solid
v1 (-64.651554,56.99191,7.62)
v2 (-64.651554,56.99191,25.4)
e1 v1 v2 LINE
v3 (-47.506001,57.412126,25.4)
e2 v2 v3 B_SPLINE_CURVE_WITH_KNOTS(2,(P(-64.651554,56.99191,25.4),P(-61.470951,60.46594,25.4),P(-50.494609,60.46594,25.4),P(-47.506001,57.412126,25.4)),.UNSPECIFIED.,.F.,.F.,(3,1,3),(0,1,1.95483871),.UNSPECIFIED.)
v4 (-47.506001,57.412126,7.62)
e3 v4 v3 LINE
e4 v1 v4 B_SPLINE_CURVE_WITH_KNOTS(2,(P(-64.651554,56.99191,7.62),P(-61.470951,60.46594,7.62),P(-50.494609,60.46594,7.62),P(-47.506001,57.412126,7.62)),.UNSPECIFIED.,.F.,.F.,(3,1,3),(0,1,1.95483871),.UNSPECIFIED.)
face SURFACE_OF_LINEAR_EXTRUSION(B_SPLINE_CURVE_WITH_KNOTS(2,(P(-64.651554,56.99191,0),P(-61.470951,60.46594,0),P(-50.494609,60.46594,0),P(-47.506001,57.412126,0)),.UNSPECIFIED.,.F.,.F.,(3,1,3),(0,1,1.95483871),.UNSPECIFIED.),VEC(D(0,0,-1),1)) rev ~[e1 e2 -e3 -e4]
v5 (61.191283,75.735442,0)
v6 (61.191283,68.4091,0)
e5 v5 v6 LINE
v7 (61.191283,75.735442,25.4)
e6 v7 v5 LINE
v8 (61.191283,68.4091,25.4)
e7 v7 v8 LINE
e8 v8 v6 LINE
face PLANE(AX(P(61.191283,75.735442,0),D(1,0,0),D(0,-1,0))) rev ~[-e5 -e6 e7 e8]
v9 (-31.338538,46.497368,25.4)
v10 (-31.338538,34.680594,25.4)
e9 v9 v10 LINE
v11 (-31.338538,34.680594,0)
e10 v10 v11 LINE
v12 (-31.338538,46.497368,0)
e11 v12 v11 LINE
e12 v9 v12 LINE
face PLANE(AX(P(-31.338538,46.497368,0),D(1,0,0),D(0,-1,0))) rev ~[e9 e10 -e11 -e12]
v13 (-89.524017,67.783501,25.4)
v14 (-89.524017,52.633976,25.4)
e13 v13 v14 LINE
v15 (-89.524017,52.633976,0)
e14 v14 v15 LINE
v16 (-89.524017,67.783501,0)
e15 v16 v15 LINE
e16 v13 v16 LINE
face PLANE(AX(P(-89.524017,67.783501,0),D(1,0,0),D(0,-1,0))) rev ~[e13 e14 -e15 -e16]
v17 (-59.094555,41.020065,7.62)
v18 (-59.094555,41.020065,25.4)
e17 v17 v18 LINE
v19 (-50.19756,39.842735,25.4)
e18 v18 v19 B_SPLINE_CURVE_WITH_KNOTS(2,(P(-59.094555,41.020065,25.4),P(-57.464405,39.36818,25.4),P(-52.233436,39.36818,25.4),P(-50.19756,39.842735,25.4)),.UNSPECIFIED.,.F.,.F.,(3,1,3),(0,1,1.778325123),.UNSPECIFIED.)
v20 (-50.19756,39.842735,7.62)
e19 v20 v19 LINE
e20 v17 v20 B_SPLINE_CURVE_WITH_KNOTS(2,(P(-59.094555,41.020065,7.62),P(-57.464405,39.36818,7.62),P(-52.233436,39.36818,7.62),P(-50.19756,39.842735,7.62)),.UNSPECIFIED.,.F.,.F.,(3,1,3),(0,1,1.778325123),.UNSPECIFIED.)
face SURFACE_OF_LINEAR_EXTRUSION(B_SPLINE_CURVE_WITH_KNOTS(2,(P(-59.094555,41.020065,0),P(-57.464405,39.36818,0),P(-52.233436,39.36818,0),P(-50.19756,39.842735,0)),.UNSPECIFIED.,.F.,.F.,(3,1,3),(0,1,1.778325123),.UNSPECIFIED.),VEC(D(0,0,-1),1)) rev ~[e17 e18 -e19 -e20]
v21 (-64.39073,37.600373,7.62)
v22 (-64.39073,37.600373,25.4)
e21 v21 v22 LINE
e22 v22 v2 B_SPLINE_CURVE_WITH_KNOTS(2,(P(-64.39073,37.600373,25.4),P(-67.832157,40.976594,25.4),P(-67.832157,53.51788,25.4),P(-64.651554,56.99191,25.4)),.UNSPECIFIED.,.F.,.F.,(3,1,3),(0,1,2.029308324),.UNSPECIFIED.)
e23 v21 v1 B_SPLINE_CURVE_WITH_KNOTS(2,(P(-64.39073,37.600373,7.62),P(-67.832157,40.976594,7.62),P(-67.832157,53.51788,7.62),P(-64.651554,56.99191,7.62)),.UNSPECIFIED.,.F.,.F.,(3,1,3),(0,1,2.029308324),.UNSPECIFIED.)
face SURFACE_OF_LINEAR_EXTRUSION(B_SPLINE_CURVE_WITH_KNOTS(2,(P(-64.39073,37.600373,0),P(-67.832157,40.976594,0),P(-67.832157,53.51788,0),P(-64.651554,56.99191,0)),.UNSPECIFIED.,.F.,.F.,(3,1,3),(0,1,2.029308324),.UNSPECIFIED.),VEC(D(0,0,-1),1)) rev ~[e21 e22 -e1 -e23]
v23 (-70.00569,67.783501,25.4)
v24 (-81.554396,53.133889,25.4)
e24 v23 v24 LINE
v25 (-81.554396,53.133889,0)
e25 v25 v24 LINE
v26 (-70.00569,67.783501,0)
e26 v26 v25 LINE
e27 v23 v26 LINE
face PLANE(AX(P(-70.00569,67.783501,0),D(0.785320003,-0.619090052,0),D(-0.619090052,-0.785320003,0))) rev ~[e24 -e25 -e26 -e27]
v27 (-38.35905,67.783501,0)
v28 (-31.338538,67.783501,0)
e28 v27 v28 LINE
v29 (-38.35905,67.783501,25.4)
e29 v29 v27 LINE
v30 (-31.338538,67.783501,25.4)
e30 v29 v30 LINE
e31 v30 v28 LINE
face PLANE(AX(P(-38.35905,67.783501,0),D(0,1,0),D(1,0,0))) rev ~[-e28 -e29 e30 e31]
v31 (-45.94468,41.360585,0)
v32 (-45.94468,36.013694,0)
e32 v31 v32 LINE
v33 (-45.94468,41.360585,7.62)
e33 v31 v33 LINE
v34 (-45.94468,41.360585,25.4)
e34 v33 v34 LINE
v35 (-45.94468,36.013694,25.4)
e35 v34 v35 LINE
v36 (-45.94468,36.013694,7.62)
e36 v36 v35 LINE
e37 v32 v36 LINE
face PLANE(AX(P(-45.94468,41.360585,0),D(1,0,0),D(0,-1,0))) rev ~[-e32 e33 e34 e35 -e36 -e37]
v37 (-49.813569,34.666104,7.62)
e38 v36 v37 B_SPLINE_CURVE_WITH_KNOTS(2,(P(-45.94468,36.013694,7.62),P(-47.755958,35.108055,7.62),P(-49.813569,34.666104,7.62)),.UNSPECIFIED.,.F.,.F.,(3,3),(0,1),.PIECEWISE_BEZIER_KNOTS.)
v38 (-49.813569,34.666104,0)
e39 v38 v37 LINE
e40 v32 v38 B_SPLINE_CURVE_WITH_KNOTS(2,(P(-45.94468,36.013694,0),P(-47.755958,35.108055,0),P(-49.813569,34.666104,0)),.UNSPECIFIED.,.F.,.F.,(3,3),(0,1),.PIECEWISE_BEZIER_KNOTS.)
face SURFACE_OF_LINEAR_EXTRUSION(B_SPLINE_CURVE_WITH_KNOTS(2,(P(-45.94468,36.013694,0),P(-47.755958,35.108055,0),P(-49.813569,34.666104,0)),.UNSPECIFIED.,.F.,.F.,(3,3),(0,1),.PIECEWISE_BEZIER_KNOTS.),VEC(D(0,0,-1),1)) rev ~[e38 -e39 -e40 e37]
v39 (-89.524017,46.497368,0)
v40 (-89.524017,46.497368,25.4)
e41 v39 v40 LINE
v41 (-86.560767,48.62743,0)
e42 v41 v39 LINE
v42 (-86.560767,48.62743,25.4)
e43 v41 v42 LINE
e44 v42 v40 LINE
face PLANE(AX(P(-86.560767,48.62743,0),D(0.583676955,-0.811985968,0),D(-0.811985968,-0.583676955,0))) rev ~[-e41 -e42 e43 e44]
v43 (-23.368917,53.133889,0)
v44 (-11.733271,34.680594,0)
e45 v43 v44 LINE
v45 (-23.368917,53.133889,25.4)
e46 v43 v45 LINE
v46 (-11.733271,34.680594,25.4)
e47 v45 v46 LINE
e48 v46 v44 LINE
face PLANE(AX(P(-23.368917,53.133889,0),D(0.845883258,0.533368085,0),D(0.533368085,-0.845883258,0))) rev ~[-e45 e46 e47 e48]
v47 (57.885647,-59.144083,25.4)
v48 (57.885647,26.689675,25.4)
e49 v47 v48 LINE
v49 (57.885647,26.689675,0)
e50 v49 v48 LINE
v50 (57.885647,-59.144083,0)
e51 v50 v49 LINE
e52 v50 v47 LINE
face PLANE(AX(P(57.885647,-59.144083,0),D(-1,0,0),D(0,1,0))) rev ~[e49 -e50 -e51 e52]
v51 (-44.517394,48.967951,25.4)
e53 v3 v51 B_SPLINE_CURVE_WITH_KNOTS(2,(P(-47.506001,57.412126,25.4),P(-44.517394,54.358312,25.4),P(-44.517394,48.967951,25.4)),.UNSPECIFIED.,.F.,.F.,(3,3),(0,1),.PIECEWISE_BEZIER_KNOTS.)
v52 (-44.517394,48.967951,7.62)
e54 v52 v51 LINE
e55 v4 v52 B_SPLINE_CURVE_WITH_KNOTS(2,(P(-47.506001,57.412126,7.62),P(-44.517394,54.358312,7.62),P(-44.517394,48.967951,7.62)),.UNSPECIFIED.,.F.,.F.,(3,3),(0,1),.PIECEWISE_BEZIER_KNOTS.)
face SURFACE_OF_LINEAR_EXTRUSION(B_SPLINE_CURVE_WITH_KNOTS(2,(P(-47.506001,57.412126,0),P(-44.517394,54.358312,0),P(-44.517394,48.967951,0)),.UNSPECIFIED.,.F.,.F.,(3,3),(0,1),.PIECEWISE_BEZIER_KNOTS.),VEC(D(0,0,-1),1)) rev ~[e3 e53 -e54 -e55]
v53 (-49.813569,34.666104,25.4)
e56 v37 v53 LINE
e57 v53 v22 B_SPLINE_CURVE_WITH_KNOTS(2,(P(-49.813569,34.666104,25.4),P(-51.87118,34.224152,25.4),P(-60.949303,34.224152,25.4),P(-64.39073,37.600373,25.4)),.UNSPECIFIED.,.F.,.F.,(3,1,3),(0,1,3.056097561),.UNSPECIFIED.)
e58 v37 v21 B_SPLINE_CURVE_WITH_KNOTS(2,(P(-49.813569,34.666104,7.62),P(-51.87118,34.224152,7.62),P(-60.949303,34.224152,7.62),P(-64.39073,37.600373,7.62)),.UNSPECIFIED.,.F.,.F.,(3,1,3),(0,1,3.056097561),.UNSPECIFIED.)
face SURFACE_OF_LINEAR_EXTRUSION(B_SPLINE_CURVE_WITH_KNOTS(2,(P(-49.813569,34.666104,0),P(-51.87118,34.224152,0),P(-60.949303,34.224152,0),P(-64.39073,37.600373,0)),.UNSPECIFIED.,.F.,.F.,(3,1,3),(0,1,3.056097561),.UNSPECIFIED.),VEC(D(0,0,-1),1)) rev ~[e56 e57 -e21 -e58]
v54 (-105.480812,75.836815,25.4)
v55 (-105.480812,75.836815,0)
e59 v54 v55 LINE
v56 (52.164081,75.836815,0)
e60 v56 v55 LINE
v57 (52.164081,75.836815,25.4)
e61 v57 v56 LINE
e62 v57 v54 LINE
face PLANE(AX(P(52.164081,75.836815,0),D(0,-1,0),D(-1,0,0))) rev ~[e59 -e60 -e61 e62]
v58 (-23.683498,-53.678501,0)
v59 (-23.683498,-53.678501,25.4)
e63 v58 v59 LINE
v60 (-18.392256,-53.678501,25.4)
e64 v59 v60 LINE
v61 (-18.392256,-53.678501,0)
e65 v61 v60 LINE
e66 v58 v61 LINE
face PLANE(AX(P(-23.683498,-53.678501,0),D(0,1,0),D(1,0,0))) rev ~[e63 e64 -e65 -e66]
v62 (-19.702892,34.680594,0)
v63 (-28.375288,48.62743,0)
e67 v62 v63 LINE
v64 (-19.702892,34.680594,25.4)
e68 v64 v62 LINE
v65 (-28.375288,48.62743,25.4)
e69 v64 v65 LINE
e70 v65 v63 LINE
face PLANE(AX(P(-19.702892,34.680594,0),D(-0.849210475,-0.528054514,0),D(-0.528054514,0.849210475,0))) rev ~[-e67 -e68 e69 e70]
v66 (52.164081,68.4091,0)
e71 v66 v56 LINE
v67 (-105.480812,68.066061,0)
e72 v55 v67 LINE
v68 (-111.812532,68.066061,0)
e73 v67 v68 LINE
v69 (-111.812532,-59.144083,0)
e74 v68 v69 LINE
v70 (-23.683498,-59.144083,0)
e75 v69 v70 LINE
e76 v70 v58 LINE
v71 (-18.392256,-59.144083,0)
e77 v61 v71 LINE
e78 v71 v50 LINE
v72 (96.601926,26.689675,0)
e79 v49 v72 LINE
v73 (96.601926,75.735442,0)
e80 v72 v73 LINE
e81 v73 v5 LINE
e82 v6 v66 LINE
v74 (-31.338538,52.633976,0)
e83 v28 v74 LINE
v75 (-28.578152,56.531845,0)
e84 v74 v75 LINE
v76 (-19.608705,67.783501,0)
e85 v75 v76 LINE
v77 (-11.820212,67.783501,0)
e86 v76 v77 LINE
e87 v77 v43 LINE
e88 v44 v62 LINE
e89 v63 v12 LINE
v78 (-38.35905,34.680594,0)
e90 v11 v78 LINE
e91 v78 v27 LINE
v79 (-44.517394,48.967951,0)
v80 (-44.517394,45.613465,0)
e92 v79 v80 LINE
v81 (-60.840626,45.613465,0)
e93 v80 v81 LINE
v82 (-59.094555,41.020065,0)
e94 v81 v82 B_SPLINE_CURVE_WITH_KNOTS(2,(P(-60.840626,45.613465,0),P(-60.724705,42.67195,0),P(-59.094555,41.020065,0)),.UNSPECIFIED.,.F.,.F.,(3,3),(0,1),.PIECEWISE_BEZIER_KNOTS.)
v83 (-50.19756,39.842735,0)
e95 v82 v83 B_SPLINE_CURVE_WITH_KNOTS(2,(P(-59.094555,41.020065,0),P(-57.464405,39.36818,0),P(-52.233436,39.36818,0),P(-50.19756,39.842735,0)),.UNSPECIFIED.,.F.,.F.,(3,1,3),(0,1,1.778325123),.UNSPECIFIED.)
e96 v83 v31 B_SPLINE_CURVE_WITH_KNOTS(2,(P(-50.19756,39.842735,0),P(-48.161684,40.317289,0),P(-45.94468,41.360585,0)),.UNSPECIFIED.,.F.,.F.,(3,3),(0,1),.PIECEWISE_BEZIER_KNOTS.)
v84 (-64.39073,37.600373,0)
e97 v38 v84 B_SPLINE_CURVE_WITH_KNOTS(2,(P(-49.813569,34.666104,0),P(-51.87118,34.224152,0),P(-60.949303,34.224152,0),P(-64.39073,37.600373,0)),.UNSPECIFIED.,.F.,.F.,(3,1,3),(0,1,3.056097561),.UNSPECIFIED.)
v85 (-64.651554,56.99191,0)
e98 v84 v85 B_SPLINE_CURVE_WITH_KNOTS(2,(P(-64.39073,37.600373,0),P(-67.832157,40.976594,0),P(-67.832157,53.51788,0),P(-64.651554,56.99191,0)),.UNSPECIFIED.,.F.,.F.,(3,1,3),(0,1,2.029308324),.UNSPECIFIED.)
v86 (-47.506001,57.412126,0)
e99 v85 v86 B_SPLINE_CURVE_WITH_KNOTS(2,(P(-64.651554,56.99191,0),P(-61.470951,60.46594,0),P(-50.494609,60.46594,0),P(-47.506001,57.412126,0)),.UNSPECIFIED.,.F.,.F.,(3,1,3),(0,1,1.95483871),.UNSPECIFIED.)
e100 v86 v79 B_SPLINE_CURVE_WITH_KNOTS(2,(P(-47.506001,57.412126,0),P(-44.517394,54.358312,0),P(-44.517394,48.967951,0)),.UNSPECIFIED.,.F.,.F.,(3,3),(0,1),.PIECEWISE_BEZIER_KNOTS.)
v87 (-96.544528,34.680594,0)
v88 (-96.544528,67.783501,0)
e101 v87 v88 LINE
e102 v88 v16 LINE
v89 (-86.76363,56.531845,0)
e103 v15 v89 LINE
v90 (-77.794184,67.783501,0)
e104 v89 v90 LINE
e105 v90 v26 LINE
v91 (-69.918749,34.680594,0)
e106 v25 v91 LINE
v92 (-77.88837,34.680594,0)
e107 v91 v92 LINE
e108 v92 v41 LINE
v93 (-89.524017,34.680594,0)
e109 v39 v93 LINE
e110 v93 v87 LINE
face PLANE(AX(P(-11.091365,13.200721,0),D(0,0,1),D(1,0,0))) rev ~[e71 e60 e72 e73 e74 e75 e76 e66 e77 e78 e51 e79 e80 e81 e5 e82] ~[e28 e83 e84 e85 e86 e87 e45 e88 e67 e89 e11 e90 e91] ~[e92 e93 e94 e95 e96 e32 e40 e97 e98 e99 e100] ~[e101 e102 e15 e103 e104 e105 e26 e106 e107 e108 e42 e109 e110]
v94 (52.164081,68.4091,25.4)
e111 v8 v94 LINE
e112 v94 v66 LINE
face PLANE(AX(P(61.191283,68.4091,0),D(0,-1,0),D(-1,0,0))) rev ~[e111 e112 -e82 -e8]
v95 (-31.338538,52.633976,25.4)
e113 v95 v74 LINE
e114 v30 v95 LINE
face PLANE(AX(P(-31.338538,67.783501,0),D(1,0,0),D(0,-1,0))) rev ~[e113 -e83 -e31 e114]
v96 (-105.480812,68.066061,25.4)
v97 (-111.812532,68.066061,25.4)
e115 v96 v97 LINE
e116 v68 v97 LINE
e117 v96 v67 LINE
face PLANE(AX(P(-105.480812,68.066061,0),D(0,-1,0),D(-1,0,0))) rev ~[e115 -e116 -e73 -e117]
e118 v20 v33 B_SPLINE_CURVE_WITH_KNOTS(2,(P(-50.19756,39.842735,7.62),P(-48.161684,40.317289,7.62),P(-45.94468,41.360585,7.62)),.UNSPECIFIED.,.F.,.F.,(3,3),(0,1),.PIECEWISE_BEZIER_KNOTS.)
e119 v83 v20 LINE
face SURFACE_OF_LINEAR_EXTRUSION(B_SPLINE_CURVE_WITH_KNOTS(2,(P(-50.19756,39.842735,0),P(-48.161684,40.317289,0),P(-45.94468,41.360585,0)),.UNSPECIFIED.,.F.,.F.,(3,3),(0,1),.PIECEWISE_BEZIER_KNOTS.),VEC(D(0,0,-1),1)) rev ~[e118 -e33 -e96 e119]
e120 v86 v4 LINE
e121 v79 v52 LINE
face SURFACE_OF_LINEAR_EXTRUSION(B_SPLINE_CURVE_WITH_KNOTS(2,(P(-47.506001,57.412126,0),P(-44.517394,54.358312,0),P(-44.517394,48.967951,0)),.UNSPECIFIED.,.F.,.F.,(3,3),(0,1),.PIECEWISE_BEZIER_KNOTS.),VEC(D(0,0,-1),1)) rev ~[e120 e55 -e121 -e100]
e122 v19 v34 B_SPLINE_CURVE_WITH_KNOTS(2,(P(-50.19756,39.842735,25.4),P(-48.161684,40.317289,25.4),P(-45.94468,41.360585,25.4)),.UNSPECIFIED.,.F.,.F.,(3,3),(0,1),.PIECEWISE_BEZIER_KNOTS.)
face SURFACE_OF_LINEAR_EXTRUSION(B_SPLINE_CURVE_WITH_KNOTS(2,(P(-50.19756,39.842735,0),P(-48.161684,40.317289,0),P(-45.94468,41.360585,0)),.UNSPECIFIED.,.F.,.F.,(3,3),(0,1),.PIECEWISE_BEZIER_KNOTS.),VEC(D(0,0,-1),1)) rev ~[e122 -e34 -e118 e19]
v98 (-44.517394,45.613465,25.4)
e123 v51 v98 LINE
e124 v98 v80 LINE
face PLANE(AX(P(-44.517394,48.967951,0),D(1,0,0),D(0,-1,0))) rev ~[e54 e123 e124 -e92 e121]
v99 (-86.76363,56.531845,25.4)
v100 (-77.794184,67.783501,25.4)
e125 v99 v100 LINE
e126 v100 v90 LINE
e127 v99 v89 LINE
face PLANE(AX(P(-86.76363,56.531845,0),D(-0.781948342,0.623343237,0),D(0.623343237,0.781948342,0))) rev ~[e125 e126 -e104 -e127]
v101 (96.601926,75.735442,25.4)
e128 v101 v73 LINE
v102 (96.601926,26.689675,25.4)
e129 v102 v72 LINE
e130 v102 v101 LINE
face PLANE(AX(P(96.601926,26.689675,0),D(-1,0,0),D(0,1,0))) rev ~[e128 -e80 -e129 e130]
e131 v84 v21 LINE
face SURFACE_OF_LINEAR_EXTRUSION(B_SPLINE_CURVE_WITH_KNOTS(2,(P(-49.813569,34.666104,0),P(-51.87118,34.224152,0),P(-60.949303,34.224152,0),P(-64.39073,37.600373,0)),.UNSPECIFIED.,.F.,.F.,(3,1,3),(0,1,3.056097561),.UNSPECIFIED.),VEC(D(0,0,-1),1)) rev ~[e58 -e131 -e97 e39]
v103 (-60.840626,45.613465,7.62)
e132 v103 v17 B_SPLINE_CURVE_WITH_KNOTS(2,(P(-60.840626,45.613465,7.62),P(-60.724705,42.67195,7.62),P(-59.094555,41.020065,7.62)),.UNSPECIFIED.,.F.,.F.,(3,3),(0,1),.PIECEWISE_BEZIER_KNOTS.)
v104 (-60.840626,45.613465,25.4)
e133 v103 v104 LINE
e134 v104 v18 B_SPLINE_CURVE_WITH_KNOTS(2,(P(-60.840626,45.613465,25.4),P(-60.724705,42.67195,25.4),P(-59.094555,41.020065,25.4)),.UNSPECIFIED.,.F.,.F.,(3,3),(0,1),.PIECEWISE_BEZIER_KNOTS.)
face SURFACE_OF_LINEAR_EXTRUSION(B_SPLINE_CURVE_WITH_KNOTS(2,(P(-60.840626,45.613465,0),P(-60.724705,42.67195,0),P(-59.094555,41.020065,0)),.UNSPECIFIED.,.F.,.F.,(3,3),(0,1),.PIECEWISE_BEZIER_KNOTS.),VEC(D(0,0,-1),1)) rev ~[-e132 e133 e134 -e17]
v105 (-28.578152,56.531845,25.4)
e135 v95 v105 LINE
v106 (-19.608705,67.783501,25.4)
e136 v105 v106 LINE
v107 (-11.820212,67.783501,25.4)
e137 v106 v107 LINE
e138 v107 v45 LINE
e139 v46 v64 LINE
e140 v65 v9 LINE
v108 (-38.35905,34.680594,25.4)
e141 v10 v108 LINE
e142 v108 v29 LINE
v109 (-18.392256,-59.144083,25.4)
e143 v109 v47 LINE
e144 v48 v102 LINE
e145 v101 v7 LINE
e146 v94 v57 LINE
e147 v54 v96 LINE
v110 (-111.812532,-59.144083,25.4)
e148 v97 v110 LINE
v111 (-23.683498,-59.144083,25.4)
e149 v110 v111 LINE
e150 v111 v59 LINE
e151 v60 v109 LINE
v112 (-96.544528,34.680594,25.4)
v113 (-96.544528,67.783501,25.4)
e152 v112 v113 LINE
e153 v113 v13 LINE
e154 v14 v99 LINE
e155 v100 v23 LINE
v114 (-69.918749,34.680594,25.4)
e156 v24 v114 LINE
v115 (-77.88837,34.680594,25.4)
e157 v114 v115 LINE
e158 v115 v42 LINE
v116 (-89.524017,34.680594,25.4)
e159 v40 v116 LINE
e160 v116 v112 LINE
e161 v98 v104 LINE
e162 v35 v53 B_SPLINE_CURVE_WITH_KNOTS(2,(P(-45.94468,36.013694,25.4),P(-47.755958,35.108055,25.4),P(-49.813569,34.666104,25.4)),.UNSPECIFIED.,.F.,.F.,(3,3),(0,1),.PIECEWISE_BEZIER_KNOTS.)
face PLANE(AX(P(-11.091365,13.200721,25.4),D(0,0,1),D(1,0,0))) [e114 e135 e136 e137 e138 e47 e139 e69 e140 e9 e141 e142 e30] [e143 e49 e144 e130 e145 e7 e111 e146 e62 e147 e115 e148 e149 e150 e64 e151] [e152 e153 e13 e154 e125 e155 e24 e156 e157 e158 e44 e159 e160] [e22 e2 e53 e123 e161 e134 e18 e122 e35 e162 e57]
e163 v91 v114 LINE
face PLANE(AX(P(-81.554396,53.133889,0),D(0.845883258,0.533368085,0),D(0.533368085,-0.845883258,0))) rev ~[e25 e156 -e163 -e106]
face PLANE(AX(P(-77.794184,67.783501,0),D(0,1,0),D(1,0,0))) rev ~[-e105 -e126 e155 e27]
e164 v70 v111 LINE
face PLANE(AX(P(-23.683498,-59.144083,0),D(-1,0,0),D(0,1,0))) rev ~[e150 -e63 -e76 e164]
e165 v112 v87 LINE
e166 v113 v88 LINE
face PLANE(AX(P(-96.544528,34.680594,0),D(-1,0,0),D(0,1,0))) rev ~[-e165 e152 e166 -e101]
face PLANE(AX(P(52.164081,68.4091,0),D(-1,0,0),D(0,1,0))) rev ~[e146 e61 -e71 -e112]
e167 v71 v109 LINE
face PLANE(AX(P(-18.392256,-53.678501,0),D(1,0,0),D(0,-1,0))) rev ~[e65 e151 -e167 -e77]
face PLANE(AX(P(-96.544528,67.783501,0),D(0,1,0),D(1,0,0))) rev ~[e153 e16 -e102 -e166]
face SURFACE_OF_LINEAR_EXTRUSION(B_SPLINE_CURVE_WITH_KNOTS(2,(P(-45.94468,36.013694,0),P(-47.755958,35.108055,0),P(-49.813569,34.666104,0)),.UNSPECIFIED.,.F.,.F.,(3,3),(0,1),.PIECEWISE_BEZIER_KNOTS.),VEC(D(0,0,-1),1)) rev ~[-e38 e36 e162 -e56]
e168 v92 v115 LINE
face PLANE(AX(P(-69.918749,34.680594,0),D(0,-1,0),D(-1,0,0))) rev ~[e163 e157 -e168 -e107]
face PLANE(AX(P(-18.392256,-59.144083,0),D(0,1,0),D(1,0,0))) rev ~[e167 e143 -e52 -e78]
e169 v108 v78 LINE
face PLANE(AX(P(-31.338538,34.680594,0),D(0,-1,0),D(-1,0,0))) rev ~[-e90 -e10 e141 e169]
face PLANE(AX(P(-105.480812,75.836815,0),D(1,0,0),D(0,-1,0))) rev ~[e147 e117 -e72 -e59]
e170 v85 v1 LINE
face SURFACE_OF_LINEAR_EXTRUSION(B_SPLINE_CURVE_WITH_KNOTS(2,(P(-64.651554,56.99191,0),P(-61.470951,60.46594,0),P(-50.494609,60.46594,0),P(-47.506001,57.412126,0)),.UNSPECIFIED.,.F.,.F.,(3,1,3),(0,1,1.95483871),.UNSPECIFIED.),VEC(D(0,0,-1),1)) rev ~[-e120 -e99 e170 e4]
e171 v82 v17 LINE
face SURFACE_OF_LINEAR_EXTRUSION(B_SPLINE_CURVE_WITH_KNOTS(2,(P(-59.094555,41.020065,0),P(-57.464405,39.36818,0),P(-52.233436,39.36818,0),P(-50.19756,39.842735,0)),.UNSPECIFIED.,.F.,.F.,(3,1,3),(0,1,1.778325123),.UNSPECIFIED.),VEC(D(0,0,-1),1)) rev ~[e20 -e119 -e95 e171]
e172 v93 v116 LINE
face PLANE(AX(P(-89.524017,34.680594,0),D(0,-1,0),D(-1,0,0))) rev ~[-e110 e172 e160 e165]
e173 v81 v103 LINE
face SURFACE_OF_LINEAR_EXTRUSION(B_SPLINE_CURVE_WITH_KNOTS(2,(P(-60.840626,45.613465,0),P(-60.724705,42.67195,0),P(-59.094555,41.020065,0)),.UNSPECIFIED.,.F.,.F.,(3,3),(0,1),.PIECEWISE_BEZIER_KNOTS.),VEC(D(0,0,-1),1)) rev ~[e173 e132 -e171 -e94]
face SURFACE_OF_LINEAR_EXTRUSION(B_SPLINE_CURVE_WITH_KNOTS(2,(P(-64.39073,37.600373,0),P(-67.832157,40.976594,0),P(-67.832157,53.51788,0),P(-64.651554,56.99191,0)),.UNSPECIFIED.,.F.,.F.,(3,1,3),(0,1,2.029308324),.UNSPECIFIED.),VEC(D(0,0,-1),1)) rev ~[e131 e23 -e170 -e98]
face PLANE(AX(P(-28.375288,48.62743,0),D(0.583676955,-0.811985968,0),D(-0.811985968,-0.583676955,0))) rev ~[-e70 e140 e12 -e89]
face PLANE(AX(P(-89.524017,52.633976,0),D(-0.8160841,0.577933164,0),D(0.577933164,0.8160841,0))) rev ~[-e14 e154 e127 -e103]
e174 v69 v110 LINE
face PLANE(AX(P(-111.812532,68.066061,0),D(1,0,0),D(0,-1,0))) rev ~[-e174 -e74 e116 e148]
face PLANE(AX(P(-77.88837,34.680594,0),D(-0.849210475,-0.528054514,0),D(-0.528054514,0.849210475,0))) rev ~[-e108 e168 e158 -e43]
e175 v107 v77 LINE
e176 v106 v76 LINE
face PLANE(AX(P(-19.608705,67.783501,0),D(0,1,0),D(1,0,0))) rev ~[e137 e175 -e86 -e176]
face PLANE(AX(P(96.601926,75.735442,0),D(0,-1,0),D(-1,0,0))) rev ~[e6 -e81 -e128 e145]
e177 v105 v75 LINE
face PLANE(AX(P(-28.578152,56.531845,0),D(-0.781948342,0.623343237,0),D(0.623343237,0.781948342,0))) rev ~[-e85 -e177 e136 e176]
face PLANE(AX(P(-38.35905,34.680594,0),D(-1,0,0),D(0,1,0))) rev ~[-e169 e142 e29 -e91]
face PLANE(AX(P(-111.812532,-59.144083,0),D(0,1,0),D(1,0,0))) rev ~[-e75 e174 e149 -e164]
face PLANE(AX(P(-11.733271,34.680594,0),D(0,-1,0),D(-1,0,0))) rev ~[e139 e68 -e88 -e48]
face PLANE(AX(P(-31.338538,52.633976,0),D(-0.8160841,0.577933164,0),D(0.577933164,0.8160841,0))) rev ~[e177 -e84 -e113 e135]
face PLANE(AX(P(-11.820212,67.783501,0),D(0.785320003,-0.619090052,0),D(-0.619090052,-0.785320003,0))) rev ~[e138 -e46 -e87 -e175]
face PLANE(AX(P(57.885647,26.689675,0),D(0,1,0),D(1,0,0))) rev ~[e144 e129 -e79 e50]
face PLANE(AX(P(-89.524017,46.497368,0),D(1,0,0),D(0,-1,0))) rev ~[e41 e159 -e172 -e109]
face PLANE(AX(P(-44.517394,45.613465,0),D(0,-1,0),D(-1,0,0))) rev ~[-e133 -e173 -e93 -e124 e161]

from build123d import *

# Parameters (mm, degrees)
F1_DEPTH = 7.62
F2_DEPTH = 25.4


with BuildPart() as f1:
    # F0 (on Top) → F1 (new body)
    with BuildSketch(Plane.XY):
        Polygon((-105.48081249, 68.0660605431), (-111.8125319481, 68.0660605431), (-111.8125319481, -59.1440834105), (-23.6834976822, -59.1440834105), (-23.6834976822, -53.6785013974), (-18.3922555298, -53.6785013974), (-18.3922555298, -59.1440834105), (57.8856468201, -59.1440834105), (57.8856468201, 26.6896747053), (96.6019257903, 26.6896747053), (96.6019257903, 75.7354423404), (61.1912831664, 75.7354423404), (61.1912831664, 68.4091001749), (52.1640814841, 68.4091001749), (52.1640814841, 75.83681494), (-105.48081249, 75.83681494), align=None)
        Polygon((-81.554395719, 53.1338888759), (-69.9187490924, 34.6805937588), (-77.8883700696, 34.6805937588), (-86.5607667147, 48.6274304688), (-89.5240166962, 46.4973681349), (-89.5240166962, 34.6805937588), (-96.544528266, 34.6805937588), (-96.544528266, 67.7835012539), (-89.5240166962, 67.7835012539), (-89.5240166962, 52.6339762873), (-86.7636297941, 56.5318454561), (-77.7941836398, 67.7835012539), (-70.0056904122, 67.7835012539), align=None, mode=Mode.SUBTRACT)
        with BuildLine():
            add(Edge.make_bspline(
                [(-49.8135689001, 34.6661035389), (-51.8711801342, 34.2241518301), (-54.8416752257, 34.2241518301)],
                knots=[0, 0, 0, 1, 1, 1], degree=2))
            add(Edge.make_bspline(
                [(-54.8416752257, 34.2241518301), (-60.9493029381, 34.2241518301), (-64.3907301783, 37.6003730804)],
                knots=[0, 0, 0, 1, 1, 1], degree=2))
            add(Edge.make_bspline(
                [(-64.3907301783, 37.6003730804), (-67.8321574184, 40.9765943308), (-67.8321574184, 47.156673143)],
                knots=[0, 0, 0, 1, 1, 1], degree=2))
            add(Edge.make_bspline(
                [(-67.8321574184, 47.156673143), (-67.8321574184, 53.5178797048), (-64.6515541375, 56.9919099398)],
                knots=[0, 0, 0, 1, 1, 1], degree=2))
            add(Edge.make_bspline(
                [(-64.6515541375, 56.9919099398), (-61.4709508566, 60.4659401749), (-55.8559906228, 60.4659401749)],
                knots=[0, 0, 0, 1, 1, 1], degree=2))
            add(Edge.make_bspline(
                [(-55.8559906228, 60.4659401749), (-50.4946092381, 60.4659401749), (-47.5060013717, 57.4121263186)],
                knots=[0, 0, 0, 1, 1, 1], degree=2))
            add(Edge.make_bspline(
                [(-47.5060013717, 57.4121263186), (-44.5173935053, 54.3583124624), (-44.5173935053, 48.9679506378)],
                knots=[0, 0, 0, 1, 1, 1], degree=2))
            Line((-44.5173935053, 48.9679506378), (-44.5173935053, 45.6134647175))
            Line((-44.5173935053, 45.6134647175), (-60.8406262885, 45.6134647175))
            add(Edge.make_bspline(
                [(-60.8406262885, 45.6134647175), (-60.7247045288, 42.6719500659), (-59.0945547835, 41.0200649906)],
                knots=[0, 0, 0, 1, 1, 1], degree=2))
            add(Edge.make_bspline(
                [(-59.0945547835, 41.0200649906), (-57.4644050381, 39.3681799154), (-54.5228903866, 39.3681799154)],
                knots=[0, 0, 0, 1, 1, 1], degree=2))
            add(Edge.make_bspline(
                [(-54.5228903866, 39.3681799154), (-52.2334356331, 39.3681799154), (-50.197559729, 39.842734619)],
                knots=[0, 0, 0, 1, 1, 1], degree=2))
            add(Edge.make_bspline(
                [(-50.197559729, 39.842734619), (-48.1616838248, 40.3172893227), (-45.9446801712, 41.3605851597)],
                knots=[0, 0, 0, 1, 1, 1], degree=2))
            Line((-45.9446801712, 41.3605851597), (-45.9446801712, 36.013693995))
            add(Edge.make_bspline(
                [(-45.9446801712, 36.013693995), (-47.755957666, 35.1080552476), (-49.8135689001, 34.6661035389)],
                knots=[0, 0, 0, 1, 1, 1], degree=2))
        make_face(mode=Mode.SUBTRACT)
        Polygon((-23.3689174759, 53.1338888759), (-11.7332708493, 34.6805937588), (-19.7028918265, 34.6805937588), (-28.3752884716, 48.6274304688), (-31.3385384531, 46.4973681349), (-31.3385384531, 34.6805937588), (-38.3590500229, 34.6805937588), (-38.3590500229, 67.7835012539), (-31.3385384531, 67.7835012539), (-31.3385384531, 52.6339762873), (-28.578151551, 56.5318454561), (-19.6087053967, 67.7835012539), (-11.8202121691, 67.7835012539), align=None, mode=Mode.SUBTRACT)
    extrude(amount=F1_DEPTH)

    # F0 (on Top) → F2 (join)
    with BuildSketch(Plane.XY):
        Polygon((-105.48081249, 68.0660605431), (-111.8125319481, 68.0660605431), (-111.8125319481, -59.1440834105), (-23.6834976822, -59.1440834105), (-23.6834976822, -53.6785013974), (-18.3922555298, -53.6785013974), (-18.3922555298, -59.1440834105), (57.8856468201, -59.1440834105), (57.8856468201, 26.6896747053), (96.6019257903, 26.6896747053), (96.6019257903, 75.7354423404), (61.1912831664, 75.7354423404), (61.1912831664, 68.4091001749), (52.1640814841, 68.4091001749), (52.1640814841, 75.83681494), (-105.48081249, 75.83681494), align=None)
        Polygon((-81.554395719, 53.1338888759), (-69.9187490924, 34.6805937588), (-77.8883700696, 34.6805937588), (-86.5607667147, 48.6274304688), (-89.5240166962, 46.4973681349), (-89.5240166962, 34.6805937588), (-96.544528266, 34.6805937588), (-96.544528266, 67.7835012539), (-89.5240166962, 67.7835012539), (-89.5240166962, 52.6339762873), (-86.7636297941, 56.5318454561), (-77.7941836398, 67.7835012539), (-70.0056904122, 67.7835012539), align=None, mode=Mode.SUBTRACT)
        with BuildLine():
            add(Edge.make_bspline(
                [(-49.8135689001, 34.6661035389), (-51.8711801342, 34.2241518301), (-54.8416752257, 34.2241518301)],
                knots=[0, 0, 0, 1, 1, 1], degree=2))
            add(Edge.make_bspline(
                [(-54.8416752257, 34.2241518301), (-60.9493029381, 34.2241518301), (-64.3907301783, 37.6003730804)],
                knots=[0, 0, 0, 1, 1, 1], degree=2))
            add(Edge.make_bspline(
                [(-64.3907301783, 37.6003730804), (-67.8321574184, 40.9765943308), (-67.8321574184, 47.156673143)],
                knots=[0, 0, 0, 1, 1, 1], degree=2))
            add(Edge.make_bspline(
                [(-67.8321574184, 47.156673143), (-67.8321574184, 53.5178797048), (-64.6515541375, 56.9919099398)],
                knots=[0, 0, 0, 1, 1, 1], degree=2))
            add(Edge.make_bspline(
                [(-64.6515541375, 56.9919099398), (-61.4709508566, 60.4659401749), (-55.8559906228, 60.4659401749)],
                knots=[0, 0, 0, 1, 1, 1], degree=2))
            add(Edge.make_bspline(
                [(-55.8559906228, 60.4659401749), (-50.4946092381, 60.4659401749), (-47.5060013717, 57.4121263186)],
                knots=[0, 0, 0, 1, 1, 1], degree=2))
            add(Edge.make_bspline(
                [(-47.5060013717, 57.4121263186), (-44.5173935053, 54.3583124624), (-44.5173935053, 48.9679506378)],
                knots=[0, 0, 0, 1, 1, 1], degree=2))
            Line((-44.5173935053, 48.9679506378), (-44.5173935053, 45.6134647175))
            Line((-44.5173935053, 45.6134647175), (-60.8406262885, 45.6134647175))
            add(Edge.make_bspline(
                [(-60.8406262885, 45.6134647175), (-60.7247045288, 42.6719500659), (-59.0945547835, 41.0200649906)],
                knots=[0, 0, 0, 1, 1, 1], degree=2))
            add(Edge.make_bspline(
                [(-59.0945547835, 41.0200649906), (-57.4644050381, 39.3681799154), (-54.5228903866, 39.3681799154)],
                knots=[0, 0, 0, 1, 1, 1], degree=2))
            add(Edge.make_bspline(
                [(-54.5228903866, 39.3681799154), (-52.2334356331, 39.3681799154), (-50.197559729, 39.842734619)],
                knots=[0, 0, 0, 1, 1, 1], degree=2))
            add(Edge.make_bspline(
                [(-50.197559729, 39.842734619), (-48.1616838248, 40.3172893227), (-45.9446801712, 41.3605851597)],
                knots=[0, 0, 0, 1, 1, 1], degree=2))
            Line((-45.9446801712, 41.3605851597), (-45.9446801712, 36.013693995))
            add(Edge.make_bspline(
                [(-45.9446801712, 36.013693995), (-47.755957666, 35.1080552476), (-49.8135689001, 34.6661035389)],
                knots=[0, 0, 0, 1, 1, 1], degree=2))
        make_face(mode=Mode.SUBTRACT)
        Polygon((-23.3689174759, 53.1338888759), (-11.7332708493, 34.6805937588), (-19.7028918265, 34.6805937588), (-28.3752884716, 48.6274304688), (-31.3385384531, 46.4973681349), (-31.3385384531, 34.6805937588), (-38.3590500229, 34.6805937588), (-38.3590500229, 67.7835012539), (-31.3385384531, 67.7835012539), (-31.3385384531, 52.6339762873), (-28.578151551, 56.5318454561), (-19.6087053967, 67.7835012539), (-11.8202121691, 67.7835012539), align=None, mode=Mode.SUBTRACT)
    extrude(amount=F2_DEPTH)


solid = f1.part
